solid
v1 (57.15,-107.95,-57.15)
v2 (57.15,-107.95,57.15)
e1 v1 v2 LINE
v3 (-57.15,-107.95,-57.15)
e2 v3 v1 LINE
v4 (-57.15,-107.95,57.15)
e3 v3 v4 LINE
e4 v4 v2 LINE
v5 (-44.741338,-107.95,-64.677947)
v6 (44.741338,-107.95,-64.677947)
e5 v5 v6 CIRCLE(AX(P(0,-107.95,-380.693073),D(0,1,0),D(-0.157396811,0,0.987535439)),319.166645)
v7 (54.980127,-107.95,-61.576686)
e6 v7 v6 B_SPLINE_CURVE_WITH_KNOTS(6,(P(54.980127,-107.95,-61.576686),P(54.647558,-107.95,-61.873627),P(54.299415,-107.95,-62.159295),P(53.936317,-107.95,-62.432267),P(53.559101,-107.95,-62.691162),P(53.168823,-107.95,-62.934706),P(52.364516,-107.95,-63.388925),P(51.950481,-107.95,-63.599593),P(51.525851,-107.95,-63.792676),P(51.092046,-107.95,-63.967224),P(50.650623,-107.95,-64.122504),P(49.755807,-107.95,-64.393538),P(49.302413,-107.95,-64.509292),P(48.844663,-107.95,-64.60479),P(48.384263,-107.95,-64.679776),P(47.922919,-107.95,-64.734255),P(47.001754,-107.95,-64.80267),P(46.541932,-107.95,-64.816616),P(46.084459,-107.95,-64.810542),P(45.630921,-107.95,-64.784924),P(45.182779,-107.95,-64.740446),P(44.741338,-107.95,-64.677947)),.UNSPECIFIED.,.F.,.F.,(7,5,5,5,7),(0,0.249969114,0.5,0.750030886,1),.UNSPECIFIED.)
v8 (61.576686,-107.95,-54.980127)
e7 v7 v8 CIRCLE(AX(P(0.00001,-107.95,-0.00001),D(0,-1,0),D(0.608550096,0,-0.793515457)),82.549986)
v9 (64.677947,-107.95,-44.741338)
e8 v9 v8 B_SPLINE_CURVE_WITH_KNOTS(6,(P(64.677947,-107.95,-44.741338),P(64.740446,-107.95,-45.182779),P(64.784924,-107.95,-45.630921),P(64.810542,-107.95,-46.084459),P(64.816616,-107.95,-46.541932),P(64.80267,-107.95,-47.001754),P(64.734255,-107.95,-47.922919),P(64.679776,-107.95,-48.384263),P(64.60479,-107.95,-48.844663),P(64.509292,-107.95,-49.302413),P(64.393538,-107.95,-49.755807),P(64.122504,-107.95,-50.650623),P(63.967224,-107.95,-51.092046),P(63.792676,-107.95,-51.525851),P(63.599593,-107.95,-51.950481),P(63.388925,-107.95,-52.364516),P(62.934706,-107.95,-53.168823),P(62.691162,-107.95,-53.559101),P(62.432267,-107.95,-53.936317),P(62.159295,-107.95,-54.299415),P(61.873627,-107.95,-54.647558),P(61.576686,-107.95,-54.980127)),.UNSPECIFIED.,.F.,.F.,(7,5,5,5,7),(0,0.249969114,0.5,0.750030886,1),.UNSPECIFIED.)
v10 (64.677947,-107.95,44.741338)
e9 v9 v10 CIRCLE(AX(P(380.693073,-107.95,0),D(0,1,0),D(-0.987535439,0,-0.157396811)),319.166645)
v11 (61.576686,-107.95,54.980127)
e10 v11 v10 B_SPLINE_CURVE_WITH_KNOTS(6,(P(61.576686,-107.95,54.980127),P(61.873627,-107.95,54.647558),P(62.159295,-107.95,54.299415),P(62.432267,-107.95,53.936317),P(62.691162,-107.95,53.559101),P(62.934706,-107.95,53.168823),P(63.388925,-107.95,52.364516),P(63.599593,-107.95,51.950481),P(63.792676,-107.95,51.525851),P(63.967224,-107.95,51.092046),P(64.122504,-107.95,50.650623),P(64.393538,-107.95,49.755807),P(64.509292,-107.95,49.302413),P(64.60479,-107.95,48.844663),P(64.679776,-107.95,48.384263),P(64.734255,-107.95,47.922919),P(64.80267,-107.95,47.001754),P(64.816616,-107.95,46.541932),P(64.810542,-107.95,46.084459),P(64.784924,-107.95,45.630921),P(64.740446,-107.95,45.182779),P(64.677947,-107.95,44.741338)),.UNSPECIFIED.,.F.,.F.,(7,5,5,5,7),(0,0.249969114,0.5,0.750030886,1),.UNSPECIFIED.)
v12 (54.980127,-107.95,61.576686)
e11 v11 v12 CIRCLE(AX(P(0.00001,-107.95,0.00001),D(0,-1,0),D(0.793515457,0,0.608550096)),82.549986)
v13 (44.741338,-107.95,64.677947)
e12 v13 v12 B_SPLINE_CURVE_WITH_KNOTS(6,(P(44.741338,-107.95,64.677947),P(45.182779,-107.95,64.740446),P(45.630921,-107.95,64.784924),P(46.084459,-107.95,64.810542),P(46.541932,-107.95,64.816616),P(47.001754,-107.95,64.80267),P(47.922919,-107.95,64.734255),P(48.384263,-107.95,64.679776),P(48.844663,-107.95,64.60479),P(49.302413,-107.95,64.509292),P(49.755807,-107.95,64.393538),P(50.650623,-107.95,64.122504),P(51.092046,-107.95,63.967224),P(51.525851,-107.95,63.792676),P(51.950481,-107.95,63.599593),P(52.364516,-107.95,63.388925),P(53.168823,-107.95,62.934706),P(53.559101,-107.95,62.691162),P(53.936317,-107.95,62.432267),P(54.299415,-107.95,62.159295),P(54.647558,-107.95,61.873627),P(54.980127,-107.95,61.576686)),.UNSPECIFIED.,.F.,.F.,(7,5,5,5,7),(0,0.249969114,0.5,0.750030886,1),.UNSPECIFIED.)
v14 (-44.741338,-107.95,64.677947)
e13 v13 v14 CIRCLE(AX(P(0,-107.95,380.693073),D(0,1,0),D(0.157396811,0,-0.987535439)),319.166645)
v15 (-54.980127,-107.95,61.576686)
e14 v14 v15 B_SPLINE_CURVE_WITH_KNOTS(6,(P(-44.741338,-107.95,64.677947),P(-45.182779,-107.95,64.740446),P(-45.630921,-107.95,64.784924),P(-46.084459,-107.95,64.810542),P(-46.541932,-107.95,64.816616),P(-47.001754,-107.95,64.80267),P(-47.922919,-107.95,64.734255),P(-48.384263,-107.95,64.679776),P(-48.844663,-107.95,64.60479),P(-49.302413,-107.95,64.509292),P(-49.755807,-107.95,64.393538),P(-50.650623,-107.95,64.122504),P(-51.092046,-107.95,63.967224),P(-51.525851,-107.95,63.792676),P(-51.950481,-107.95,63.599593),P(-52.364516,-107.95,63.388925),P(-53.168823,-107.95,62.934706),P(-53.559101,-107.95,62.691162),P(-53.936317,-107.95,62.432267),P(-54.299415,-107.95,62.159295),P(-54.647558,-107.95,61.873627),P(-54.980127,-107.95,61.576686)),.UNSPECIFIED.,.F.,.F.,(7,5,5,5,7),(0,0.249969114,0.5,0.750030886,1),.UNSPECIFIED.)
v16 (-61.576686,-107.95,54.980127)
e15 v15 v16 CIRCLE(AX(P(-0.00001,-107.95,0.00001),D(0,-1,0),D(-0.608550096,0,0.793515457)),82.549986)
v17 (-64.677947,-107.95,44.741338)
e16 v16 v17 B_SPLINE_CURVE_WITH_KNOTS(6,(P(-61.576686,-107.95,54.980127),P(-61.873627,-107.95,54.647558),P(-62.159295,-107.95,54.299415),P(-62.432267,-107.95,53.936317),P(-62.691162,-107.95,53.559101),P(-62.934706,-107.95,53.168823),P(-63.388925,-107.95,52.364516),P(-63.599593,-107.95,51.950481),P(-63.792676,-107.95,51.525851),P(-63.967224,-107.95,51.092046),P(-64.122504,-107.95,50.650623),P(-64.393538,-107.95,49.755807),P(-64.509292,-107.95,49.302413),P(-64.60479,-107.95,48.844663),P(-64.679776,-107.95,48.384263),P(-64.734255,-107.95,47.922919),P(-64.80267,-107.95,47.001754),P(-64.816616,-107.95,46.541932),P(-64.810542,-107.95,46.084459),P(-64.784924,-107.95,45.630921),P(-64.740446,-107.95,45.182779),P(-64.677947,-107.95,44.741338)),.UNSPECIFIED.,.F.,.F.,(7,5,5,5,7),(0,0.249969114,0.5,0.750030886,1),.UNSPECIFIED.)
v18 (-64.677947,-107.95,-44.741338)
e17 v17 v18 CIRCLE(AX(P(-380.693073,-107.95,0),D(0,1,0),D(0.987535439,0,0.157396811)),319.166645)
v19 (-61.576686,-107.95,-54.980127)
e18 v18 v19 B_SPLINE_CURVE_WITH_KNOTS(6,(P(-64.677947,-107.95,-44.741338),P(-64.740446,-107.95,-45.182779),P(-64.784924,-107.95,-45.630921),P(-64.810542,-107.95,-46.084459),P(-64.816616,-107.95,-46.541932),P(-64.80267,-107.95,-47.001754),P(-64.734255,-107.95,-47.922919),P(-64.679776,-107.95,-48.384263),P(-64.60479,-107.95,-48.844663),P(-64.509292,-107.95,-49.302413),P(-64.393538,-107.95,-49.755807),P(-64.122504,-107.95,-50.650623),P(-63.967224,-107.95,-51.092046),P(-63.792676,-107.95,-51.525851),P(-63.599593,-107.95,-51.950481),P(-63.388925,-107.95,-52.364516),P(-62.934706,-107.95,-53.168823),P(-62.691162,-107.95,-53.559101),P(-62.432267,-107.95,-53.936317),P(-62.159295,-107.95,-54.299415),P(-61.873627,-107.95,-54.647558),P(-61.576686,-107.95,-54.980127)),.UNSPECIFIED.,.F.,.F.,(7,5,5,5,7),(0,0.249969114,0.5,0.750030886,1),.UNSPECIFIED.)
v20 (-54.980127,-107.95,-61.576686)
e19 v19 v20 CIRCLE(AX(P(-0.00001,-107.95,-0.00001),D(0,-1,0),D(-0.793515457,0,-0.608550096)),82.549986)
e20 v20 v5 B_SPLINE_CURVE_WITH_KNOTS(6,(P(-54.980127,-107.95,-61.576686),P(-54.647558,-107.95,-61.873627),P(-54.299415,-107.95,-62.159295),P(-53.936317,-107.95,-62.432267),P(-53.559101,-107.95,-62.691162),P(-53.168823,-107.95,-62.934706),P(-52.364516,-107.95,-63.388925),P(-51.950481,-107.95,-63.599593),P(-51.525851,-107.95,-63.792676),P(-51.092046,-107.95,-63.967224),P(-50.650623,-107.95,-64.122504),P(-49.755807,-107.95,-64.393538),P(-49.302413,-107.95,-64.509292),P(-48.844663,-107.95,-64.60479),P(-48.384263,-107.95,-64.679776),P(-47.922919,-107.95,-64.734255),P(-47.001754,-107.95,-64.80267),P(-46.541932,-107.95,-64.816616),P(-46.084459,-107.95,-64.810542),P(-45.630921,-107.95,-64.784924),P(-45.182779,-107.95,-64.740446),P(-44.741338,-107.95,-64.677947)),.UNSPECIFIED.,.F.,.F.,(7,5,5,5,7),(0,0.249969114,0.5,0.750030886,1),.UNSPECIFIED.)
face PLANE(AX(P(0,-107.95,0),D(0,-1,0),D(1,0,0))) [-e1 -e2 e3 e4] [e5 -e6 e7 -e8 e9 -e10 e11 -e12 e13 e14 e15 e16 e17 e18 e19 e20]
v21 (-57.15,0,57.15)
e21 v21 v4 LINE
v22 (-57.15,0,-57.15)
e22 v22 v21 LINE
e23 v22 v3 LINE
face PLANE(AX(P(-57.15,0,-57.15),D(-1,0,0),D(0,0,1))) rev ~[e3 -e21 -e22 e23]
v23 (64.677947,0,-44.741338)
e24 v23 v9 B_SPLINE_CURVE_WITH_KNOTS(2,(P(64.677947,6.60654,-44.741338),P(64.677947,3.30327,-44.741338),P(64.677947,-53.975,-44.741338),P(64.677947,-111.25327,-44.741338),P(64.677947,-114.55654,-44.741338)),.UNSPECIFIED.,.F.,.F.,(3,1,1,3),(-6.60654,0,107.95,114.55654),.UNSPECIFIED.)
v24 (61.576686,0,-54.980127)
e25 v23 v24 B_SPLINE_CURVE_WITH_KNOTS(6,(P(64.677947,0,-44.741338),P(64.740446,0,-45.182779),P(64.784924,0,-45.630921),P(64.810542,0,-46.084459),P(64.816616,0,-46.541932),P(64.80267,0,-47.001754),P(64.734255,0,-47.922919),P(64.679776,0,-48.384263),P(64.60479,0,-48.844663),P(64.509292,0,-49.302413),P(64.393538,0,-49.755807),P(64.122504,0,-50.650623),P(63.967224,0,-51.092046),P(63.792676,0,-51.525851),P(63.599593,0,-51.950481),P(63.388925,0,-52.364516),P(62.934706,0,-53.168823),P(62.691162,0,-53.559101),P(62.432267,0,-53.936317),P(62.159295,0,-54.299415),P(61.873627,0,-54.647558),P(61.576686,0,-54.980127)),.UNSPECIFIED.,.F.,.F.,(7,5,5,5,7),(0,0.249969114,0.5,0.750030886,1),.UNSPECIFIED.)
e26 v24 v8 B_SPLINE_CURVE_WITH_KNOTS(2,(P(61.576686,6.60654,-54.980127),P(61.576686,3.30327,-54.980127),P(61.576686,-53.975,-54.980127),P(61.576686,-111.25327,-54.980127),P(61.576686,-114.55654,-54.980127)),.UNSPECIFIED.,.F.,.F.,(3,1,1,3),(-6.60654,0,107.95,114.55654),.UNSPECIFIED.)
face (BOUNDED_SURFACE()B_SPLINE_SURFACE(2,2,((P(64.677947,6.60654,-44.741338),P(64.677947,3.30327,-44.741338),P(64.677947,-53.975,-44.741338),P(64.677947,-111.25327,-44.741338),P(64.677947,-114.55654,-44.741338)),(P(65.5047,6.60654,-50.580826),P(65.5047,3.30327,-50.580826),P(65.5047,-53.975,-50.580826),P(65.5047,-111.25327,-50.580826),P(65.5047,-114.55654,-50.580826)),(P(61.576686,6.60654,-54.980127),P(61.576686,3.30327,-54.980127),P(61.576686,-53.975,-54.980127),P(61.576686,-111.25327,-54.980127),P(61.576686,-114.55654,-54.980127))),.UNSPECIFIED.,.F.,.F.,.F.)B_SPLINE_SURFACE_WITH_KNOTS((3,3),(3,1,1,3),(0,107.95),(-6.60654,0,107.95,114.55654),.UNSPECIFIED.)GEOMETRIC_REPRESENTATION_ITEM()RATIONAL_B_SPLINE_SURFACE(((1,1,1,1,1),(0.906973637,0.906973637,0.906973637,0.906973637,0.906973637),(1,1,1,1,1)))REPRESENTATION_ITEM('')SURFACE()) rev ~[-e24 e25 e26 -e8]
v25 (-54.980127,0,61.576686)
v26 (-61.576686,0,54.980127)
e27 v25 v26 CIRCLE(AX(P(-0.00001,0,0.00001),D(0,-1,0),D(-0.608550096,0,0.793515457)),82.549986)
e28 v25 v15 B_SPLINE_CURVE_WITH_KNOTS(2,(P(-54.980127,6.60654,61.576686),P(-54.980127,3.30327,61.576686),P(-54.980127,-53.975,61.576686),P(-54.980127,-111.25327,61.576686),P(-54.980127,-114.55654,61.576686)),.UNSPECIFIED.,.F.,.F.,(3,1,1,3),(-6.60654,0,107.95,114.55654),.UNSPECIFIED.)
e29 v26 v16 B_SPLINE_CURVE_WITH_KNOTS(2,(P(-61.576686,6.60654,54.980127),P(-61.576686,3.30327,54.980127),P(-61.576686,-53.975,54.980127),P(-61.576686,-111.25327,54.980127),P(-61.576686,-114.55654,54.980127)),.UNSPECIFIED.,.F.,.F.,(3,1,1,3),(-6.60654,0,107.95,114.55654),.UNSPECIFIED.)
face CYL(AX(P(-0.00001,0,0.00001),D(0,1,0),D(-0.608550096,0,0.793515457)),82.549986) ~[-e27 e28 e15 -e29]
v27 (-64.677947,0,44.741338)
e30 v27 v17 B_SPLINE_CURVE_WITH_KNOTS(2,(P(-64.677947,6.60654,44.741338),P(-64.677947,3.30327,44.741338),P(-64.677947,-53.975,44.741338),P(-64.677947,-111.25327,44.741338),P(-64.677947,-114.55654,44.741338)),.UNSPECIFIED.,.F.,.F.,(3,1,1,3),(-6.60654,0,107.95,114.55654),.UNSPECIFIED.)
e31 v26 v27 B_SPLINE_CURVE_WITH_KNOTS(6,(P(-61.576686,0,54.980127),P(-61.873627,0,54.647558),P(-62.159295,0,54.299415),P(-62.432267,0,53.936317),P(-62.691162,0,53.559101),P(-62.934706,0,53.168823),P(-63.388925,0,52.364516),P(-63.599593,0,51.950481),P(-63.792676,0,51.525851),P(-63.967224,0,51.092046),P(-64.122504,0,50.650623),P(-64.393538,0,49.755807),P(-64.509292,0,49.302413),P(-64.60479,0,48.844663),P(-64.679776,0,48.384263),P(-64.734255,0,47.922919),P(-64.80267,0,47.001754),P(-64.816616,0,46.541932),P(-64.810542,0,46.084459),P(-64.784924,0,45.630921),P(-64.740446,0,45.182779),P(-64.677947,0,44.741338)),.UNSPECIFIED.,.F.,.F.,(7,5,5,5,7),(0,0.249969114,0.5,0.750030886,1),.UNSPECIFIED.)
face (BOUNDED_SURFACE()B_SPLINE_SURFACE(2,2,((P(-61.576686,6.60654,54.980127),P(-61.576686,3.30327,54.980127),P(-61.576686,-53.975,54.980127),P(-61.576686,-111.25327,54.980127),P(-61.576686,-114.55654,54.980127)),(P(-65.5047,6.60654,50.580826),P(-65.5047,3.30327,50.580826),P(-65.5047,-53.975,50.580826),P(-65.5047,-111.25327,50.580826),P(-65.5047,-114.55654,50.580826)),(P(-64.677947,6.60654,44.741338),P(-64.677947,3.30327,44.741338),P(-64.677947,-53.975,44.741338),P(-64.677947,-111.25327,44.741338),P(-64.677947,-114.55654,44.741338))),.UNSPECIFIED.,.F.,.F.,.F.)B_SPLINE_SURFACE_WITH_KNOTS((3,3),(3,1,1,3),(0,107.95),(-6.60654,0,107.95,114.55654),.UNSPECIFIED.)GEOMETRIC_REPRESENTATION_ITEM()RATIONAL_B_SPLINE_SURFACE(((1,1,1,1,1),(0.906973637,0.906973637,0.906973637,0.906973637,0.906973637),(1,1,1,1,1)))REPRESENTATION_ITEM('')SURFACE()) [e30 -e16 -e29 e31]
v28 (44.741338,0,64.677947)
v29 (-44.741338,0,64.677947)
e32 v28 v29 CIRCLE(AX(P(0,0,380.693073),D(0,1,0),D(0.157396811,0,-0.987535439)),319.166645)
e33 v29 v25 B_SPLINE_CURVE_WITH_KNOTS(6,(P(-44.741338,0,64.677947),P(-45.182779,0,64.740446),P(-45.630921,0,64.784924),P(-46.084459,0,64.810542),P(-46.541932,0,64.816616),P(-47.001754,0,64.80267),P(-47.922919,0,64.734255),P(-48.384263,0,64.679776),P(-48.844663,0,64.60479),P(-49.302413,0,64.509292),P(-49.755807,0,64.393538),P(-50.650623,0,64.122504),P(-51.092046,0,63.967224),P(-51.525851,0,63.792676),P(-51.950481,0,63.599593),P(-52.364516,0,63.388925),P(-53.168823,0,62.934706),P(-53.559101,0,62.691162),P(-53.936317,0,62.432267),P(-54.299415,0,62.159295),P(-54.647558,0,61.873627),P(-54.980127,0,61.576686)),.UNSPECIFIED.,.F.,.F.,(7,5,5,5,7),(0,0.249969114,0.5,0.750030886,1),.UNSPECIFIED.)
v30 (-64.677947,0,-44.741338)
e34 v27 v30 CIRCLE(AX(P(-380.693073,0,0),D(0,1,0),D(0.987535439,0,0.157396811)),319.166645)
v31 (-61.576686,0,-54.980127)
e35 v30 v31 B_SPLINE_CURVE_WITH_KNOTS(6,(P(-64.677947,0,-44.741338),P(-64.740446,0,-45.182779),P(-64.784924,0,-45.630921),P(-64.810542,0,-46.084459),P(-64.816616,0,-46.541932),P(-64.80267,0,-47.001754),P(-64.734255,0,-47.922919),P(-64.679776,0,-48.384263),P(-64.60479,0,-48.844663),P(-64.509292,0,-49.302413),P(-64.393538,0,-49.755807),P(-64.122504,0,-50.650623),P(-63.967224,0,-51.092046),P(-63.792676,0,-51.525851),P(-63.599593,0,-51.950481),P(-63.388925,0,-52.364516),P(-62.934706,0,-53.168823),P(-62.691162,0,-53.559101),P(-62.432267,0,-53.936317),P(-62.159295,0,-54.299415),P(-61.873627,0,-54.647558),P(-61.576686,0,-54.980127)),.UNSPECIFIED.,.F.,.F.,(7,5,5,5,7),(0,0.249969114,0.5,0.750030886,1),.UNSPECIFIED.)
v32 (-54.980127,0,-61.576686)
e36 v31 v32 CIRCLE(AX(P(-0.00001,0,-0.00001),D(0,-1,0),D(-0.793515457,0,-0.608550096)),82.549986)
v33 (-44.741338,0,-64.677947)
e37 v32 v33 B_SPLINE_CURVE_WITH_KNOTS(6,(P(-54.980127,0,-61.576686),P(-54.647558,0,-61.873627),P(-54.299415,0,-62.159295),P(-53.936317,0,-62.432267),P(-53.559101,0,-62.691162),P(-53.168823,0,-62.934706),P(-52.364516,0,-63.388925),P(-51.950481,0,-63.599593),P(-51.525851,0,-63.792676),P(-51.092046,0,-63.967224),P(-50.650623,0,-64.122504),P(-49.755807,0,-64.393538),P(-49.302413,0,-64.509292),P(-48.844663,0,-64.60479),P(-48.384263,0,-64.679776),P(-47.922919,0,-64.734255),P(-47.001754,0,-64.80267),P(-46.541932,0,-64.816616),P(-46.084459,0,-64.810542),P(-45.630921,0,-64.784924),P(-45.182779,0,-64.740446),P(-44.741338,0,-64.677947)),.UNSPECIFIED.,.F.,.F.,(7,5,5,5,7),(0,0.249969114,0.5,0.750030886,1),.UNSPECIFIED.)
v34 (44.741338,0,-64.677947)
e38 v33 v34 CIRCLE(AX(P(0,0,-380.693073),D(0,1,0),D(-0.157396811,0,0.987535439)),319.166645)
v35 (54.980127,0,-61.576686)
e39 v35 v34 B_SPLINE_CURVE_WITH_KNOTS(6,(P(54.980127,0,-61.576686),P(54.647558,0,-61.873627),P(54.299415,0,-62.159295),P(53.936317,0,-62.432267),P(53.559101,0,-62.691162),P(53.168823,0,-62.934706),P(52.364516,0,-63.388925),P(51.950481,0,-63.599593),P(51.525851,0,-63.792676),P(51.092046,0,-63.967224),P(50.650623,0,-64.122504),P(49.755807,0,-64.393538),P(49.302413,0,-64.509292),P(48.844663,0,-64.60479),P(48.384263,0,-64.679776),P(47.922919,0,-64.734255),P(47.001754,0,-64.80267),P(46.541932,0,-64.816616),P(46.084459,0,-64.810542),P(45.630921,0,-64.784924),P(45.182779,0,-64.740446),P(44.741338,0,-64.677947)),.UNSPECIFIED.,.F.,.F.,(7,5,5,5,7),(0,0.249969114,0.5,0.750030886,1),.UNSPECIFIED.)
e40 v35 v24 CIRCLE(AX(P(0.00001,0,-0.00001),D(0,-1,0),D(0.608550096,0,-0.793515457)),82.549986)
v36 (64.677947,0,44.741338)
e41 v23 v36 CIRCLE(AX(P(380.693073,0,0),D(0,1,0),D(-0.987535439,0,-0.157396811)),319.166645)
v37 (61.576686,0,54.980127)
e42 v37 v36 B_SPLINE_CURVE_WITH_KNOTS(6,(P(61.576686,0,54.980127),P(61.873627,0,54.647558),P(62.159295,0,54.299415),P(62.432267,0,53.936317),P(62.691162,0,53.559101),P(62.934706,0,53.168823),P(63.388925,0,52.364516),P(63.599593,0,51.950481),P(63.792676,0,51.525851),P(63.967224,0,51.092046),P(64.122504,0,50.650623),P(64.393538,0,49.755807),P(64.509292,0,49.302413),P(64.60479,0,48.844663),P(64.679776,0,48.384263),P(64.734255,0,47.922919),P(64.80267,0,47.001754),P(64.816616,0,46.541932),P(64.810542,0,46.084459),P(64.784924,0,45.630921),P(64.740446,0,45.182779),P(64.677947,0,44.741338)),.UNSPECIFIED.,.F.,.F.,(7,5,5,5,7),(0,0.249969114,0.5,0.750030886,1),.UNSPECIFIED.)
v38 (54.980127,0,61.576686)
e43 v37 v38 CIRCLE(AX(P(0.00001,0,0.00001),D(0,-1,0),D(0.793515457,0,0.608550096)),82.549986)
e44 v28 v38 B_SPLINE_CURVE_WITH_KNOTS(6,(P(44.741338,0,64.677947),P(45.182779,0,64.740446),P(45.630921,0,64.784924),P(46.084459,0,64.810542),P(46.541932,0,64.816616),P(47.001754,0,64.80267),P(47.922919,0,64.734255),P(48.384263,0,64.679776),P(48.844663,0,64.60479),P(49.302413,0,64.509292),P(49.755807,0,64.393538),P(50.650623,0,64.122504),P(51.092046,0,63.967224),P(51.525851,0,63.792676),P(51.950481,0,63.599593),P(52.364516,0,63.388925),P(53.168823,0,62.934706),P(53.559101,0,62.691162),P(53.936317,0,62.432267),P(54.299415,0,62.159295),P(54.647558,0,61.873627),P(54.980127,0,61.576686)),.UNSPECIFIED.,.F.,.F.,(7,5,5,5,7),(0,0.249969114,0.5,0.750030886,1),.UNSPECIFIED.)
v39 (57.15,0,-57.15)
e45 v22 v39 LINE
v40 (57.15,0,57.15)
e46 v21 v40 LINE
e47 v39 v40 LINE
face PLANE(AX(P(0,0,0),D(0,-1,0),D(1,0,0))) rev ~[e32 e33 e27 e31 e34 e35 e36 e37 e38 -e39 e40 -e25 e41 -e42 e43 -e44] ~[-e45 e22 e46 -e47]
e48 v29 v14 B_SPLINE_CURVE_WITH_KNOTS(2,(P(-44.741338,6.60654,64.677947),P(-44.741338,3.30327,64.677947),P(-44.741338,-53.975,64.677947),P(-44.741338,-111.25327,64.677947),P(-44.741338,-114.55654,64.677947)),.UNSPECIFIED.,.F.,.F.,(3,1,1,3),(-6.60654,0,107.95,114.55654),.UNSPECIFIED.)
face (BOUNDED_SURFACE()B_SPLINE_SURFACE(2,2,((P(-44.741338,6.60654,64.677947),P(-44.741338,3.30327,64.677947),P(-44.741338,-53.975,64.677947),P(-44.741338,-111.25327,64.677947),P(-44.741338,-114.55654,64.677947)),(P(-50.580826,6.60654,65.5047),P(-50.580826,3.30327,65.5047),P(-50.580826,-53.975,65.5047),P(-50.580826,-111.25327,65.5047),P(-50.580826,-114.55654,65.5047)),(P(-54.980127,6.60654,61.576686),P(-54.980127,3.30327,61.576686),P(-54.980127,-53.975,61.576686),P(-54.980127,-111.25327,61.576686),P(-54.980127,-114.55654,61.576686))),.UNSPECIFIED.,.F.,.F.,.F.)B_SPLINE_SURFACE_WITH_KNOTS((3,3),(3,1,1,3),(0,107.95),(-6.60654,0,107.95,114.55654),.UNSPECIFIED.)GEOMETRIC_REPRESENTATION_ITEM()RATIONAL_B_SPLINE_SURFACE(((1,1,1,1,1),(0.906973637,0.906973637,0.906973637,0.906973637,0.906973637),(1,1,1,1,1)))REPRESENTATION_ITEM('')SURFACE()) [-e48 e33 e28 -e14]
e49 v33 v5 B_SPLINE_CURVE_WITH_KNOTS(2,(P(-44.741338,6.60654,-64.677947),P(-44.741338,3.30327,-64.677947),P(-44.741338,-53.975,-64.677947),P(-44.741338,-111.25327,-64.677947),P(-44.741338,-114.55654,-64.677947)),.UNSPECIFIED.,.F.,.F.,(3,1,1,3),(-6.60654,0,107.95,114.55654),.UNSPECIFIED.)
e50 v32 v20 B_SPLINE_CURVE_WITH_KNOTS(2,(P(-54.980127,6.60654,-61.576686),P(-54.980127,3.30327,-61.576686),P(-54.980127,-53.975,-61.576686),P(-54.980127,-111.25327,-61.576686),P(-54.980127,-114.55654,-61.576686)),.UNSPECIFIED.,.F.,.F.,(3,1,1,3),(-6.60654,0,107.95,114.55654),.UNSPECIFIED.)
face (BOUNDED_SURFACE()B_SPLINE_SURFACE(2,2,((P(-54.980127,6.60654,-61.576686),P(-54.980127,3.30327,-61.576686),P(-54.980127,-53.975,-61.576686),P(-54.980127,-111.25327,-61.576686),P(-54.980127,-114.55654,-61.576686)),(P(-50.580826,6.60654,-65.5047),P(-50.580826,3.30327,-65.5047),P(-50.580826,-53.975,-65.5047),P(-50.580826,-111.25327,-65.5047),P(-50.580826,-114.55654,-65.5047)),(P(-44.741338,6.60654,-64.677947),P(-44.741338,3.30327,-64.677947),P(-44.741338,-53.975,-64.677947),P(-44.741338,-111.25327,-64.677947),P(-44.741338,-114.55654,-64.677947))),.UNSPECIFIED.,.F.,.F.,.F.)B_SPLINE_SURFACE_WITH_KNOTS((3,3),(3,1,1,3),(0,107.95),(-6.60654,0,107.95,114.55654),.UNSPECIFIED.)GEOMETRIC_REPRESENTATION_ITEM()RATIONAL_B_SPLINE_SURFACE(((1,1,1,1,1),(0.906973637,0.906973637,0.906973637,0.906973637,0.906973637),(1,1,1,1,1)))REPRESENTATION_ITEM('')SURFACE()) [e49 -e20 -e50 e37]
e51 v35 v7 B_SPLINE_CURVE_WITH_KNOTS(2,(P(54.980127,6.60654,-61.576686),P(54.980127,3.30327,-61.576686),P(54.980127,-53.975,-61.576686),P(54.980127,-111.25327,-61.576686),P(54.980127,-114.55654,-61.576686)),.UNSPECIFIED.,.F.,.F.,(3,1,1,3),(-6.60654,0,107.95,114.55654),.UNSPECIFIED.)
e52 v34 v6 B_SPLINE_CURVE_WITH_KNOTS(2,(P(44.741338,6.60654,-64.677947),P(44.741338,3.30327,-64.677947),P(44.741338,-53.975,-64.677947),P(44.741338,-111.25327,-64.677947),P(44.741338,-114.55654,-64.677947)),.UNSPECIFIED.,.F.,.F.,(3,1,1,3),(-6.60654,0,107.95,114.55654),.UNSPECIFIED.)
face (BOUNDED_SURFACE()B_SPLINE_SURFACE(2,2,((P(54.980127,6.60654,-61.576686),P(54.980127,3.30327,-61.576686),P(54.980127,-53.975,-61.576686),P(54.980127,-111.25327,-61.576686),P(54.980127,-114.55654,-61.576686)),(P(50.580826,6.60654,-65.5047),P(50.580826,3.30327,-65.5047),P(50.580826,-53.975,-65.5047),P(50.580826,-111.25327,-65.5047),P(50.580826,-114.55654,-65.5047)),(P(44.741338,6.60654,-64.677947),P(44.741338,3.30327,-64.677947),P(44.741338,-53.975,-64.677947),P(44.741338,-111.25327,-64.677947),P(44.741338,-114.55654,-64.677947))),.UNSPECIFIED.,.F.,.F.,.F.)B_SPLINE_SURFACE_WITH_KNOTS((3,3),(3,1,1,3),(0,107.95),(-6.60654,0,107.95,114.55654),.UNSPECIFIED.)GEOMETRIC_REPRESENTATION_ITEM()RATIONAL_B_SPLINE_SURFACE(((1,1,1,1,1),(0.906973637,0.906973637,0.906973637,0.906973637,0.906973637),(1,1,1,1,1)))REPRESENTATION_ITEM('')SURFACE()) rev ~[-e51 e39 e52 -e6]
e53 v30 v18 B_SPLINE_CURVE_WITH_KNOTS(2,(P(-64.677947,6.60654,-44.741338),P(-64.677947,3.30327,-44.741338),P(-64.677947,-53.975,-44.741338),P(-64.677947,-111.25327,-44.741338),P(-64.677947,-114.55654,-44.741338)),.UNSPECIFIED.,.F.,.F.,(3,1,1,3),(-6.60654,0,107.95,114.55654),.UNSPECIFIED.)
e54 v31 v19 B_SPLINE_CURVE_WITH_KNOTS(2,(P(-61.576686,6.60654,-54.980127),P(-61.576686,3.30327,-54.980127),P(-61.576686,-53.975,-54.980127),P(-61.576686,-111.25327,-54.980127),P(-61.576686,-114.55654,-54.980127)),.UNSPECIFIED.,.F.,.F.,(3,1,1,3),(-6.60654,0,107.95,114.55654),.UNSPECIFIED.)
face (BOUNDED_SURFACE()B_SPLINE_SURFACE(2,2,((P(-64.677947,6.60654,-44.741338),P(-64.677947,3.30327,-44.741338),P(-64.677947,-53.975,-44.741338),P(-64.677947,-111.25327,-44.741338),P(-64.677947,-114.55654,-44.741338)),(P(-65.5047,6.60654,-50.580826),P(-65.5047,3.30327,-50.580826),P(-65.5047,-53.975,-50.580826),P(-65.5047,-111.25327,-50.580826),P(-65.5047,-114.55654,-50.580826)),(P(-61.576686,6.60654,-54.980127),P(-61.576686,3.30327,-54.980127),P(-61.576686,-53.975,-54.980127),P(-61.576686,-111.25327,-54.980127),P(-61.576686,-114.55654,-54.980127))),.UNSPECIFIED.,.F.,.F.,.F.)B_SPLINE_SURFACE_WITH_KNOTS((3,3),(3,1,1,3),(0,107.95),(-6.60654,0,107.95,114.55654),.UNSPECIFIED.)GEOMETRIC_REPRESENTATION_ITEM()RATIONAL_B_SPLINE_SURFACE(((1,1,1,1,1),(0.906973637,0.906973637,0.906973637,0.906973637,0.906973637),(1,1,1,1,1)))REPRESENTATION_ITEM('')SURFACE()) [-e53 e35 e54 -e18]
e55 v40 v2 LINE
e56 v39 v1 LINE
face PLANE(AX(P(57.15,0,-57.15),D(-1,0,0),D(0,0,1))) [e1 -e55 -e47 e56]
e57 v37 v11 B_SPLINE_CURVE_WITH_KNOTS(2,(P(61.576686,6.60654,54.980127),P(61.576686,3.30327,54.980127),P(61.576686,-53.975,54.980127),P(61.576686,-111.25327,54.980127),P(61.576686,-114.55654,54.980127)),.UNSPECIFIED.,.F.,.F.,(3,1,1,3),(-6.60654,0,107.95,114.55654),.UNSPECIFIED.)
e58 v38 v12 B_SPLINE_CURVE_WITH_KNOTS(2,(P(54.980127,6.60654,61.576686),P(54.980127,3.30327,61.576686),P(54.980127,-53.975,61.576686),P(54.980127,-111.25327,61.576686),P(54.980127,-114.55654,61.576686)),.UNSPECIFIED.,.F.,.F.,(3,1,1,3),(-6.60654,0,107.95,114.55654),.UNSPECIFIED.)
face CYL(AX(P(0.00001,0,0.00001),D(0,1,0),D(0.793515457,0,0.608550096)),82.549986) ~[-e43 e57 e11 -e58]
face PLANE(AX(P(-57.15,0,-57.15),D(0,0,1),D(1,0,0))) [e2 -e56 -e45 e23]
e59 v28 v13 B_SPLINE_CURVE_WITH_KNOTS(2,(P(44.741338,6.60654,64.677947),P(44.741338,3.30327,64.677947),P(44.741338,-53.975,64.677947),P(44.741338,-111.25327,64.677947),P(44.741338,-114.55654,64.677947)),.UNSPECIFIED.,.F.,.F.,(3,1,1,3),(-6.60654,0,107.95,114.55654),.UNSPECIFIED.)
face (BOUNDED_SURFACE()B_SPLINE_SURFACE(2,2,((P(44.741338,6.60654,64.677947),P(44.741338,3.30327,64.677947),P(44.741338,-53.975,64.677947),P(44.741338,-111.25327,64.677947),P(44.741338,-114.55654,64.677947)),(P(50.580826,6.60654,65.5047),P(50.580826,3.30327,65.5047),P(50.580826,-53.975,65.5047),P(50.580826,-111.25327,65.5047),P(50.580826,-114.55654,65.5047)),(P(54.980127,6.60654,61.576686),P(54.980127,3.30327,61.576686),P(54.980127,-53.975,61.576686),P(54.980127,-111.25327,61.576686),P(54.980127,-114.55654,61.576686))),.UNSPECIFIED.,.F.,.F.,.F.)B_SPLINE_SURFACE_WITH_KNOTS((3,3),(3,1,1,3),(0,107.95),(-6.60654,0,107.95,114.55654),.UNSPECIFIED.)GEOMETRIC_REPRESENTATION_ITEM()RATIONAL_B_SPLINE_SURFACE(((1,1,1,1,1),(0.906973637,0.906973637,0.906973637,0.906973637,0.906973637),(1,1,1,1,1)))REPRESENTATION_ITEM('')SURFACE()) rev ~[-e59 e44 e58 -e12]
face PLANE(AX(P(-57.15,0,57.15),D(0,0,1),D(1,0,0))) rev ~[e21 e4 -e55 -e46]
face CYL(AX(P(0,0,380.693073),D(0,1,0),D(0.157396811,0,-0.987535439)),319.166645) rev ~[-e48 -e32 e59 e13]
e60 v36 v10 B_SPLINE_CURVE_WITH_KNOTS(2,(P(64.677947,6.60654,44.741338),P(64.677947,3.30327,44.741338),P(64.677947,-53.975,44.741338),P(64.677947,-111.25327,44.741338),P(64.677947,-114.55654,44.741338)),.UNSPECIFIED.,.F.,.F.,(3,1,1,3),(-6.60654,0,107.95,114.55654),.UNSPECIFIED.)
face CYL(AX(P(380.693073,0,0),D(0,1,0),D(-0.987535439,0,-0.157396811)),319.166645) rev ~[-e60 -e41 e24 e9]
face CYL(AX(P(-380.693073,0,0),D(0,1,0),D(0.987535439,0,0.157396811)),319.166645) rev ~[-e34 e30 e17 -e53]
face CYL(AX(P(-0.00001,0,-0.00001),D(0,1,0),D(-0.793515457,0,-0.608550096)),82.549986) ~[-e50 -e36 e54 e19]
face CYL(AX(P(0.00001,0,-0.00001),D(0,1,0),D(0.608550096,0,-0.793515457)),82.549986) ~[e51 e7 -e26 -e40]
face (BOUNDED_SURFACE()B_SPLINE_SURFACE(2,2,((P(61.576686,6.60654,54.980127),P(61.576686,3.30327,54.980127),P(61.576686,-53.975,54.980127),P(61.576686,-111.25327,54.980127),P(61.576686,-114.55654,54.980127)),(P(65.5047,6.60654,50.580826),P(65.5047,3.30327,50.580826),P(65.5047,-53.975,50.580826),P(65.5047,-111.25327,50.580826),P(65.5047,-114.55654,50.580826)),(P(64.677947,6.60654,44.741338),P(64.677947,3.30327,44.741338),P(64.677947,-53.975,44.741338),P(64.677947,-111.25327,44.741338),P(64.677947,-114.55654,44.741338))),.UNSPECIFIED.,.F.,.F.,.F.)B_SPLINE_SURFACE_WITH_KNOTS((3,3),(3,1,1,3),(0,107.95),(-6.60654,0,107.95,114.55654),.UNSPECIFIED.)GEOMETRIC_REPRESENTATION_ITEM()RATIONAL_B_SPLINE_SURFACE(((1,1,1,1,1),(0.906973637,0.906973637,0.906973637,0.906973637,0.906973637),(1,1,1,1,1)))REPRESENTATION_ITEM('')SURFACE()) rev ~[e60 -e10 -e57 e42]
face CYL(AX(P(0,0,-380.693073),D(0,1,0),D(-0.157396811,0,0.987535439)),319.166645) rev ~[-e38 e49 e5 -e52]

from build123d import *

# Parameters (mm, degrees)
F0_W     = 114.3
F0_H     = 114.3
F1_DEPTH = 107.95
F2_R     = 12.7


with BuildPart() as f1:
    # F0 (on Front) → F1 (new body)
    with BuildSketch(Plane.XZ):
        with BuildLine():
            ThreePointArc((50.235812, 65.5047), (0, 61.526428), (-50.235812, 65.5047))
            ThreePointArc((-50.235812, 65.5047), (-58.371665, 58.371665), (-65.5047, 50.235812))
            ThreePointArc((-65.5047, 50.235812), (-61.526428, 0), (-65.5047, -50.235812))
            ThreePointArc((-65.5047, -50.235812), (-58.371665, -58.371665), (-50.235812, -65.5047))
            ThreePointArc((-50.235812, -65.5047), (0, -61.526428), (50.235812, -65.5047))
            ThreePointArc((50.235812, -65.5047), (58.371665, -58.371665), (65.5047, -50.235812))
            ThreePointArc((65.5047, -50.235812), (61.526428, 0), (65.5047, 50.235812))
            ThreePointArc((65.5047, 50.235812), (58.371665, 58.371665), (50.235812, 65.5047))
        make_face()
        Rectangle(F0_W, F0_H, mode=Mode.SUBTRACT)
    extrude(amount=F1_DEPTH)

    # F2
    f2_edges = [f1.edges().sort_by_distance(p)[0] for p in [
        (-65.5047, -53.975, 50.235812),
        (-50.235812, -53.975, 65.5047),
        (50.235812, -53.975, 65.5047),
        (65.5047, -53.975, 50.235812),
        (50.235812, -53.975, -65.5047),
        (65.5047, -53.975, -50.235812),
        (-50.235812, -53.975, -65.5047),
        (-65.5047, -53.975, -50.235812),
    ]]
    fillet(f2_edges, radius=F2_R)


solid = f1.part
